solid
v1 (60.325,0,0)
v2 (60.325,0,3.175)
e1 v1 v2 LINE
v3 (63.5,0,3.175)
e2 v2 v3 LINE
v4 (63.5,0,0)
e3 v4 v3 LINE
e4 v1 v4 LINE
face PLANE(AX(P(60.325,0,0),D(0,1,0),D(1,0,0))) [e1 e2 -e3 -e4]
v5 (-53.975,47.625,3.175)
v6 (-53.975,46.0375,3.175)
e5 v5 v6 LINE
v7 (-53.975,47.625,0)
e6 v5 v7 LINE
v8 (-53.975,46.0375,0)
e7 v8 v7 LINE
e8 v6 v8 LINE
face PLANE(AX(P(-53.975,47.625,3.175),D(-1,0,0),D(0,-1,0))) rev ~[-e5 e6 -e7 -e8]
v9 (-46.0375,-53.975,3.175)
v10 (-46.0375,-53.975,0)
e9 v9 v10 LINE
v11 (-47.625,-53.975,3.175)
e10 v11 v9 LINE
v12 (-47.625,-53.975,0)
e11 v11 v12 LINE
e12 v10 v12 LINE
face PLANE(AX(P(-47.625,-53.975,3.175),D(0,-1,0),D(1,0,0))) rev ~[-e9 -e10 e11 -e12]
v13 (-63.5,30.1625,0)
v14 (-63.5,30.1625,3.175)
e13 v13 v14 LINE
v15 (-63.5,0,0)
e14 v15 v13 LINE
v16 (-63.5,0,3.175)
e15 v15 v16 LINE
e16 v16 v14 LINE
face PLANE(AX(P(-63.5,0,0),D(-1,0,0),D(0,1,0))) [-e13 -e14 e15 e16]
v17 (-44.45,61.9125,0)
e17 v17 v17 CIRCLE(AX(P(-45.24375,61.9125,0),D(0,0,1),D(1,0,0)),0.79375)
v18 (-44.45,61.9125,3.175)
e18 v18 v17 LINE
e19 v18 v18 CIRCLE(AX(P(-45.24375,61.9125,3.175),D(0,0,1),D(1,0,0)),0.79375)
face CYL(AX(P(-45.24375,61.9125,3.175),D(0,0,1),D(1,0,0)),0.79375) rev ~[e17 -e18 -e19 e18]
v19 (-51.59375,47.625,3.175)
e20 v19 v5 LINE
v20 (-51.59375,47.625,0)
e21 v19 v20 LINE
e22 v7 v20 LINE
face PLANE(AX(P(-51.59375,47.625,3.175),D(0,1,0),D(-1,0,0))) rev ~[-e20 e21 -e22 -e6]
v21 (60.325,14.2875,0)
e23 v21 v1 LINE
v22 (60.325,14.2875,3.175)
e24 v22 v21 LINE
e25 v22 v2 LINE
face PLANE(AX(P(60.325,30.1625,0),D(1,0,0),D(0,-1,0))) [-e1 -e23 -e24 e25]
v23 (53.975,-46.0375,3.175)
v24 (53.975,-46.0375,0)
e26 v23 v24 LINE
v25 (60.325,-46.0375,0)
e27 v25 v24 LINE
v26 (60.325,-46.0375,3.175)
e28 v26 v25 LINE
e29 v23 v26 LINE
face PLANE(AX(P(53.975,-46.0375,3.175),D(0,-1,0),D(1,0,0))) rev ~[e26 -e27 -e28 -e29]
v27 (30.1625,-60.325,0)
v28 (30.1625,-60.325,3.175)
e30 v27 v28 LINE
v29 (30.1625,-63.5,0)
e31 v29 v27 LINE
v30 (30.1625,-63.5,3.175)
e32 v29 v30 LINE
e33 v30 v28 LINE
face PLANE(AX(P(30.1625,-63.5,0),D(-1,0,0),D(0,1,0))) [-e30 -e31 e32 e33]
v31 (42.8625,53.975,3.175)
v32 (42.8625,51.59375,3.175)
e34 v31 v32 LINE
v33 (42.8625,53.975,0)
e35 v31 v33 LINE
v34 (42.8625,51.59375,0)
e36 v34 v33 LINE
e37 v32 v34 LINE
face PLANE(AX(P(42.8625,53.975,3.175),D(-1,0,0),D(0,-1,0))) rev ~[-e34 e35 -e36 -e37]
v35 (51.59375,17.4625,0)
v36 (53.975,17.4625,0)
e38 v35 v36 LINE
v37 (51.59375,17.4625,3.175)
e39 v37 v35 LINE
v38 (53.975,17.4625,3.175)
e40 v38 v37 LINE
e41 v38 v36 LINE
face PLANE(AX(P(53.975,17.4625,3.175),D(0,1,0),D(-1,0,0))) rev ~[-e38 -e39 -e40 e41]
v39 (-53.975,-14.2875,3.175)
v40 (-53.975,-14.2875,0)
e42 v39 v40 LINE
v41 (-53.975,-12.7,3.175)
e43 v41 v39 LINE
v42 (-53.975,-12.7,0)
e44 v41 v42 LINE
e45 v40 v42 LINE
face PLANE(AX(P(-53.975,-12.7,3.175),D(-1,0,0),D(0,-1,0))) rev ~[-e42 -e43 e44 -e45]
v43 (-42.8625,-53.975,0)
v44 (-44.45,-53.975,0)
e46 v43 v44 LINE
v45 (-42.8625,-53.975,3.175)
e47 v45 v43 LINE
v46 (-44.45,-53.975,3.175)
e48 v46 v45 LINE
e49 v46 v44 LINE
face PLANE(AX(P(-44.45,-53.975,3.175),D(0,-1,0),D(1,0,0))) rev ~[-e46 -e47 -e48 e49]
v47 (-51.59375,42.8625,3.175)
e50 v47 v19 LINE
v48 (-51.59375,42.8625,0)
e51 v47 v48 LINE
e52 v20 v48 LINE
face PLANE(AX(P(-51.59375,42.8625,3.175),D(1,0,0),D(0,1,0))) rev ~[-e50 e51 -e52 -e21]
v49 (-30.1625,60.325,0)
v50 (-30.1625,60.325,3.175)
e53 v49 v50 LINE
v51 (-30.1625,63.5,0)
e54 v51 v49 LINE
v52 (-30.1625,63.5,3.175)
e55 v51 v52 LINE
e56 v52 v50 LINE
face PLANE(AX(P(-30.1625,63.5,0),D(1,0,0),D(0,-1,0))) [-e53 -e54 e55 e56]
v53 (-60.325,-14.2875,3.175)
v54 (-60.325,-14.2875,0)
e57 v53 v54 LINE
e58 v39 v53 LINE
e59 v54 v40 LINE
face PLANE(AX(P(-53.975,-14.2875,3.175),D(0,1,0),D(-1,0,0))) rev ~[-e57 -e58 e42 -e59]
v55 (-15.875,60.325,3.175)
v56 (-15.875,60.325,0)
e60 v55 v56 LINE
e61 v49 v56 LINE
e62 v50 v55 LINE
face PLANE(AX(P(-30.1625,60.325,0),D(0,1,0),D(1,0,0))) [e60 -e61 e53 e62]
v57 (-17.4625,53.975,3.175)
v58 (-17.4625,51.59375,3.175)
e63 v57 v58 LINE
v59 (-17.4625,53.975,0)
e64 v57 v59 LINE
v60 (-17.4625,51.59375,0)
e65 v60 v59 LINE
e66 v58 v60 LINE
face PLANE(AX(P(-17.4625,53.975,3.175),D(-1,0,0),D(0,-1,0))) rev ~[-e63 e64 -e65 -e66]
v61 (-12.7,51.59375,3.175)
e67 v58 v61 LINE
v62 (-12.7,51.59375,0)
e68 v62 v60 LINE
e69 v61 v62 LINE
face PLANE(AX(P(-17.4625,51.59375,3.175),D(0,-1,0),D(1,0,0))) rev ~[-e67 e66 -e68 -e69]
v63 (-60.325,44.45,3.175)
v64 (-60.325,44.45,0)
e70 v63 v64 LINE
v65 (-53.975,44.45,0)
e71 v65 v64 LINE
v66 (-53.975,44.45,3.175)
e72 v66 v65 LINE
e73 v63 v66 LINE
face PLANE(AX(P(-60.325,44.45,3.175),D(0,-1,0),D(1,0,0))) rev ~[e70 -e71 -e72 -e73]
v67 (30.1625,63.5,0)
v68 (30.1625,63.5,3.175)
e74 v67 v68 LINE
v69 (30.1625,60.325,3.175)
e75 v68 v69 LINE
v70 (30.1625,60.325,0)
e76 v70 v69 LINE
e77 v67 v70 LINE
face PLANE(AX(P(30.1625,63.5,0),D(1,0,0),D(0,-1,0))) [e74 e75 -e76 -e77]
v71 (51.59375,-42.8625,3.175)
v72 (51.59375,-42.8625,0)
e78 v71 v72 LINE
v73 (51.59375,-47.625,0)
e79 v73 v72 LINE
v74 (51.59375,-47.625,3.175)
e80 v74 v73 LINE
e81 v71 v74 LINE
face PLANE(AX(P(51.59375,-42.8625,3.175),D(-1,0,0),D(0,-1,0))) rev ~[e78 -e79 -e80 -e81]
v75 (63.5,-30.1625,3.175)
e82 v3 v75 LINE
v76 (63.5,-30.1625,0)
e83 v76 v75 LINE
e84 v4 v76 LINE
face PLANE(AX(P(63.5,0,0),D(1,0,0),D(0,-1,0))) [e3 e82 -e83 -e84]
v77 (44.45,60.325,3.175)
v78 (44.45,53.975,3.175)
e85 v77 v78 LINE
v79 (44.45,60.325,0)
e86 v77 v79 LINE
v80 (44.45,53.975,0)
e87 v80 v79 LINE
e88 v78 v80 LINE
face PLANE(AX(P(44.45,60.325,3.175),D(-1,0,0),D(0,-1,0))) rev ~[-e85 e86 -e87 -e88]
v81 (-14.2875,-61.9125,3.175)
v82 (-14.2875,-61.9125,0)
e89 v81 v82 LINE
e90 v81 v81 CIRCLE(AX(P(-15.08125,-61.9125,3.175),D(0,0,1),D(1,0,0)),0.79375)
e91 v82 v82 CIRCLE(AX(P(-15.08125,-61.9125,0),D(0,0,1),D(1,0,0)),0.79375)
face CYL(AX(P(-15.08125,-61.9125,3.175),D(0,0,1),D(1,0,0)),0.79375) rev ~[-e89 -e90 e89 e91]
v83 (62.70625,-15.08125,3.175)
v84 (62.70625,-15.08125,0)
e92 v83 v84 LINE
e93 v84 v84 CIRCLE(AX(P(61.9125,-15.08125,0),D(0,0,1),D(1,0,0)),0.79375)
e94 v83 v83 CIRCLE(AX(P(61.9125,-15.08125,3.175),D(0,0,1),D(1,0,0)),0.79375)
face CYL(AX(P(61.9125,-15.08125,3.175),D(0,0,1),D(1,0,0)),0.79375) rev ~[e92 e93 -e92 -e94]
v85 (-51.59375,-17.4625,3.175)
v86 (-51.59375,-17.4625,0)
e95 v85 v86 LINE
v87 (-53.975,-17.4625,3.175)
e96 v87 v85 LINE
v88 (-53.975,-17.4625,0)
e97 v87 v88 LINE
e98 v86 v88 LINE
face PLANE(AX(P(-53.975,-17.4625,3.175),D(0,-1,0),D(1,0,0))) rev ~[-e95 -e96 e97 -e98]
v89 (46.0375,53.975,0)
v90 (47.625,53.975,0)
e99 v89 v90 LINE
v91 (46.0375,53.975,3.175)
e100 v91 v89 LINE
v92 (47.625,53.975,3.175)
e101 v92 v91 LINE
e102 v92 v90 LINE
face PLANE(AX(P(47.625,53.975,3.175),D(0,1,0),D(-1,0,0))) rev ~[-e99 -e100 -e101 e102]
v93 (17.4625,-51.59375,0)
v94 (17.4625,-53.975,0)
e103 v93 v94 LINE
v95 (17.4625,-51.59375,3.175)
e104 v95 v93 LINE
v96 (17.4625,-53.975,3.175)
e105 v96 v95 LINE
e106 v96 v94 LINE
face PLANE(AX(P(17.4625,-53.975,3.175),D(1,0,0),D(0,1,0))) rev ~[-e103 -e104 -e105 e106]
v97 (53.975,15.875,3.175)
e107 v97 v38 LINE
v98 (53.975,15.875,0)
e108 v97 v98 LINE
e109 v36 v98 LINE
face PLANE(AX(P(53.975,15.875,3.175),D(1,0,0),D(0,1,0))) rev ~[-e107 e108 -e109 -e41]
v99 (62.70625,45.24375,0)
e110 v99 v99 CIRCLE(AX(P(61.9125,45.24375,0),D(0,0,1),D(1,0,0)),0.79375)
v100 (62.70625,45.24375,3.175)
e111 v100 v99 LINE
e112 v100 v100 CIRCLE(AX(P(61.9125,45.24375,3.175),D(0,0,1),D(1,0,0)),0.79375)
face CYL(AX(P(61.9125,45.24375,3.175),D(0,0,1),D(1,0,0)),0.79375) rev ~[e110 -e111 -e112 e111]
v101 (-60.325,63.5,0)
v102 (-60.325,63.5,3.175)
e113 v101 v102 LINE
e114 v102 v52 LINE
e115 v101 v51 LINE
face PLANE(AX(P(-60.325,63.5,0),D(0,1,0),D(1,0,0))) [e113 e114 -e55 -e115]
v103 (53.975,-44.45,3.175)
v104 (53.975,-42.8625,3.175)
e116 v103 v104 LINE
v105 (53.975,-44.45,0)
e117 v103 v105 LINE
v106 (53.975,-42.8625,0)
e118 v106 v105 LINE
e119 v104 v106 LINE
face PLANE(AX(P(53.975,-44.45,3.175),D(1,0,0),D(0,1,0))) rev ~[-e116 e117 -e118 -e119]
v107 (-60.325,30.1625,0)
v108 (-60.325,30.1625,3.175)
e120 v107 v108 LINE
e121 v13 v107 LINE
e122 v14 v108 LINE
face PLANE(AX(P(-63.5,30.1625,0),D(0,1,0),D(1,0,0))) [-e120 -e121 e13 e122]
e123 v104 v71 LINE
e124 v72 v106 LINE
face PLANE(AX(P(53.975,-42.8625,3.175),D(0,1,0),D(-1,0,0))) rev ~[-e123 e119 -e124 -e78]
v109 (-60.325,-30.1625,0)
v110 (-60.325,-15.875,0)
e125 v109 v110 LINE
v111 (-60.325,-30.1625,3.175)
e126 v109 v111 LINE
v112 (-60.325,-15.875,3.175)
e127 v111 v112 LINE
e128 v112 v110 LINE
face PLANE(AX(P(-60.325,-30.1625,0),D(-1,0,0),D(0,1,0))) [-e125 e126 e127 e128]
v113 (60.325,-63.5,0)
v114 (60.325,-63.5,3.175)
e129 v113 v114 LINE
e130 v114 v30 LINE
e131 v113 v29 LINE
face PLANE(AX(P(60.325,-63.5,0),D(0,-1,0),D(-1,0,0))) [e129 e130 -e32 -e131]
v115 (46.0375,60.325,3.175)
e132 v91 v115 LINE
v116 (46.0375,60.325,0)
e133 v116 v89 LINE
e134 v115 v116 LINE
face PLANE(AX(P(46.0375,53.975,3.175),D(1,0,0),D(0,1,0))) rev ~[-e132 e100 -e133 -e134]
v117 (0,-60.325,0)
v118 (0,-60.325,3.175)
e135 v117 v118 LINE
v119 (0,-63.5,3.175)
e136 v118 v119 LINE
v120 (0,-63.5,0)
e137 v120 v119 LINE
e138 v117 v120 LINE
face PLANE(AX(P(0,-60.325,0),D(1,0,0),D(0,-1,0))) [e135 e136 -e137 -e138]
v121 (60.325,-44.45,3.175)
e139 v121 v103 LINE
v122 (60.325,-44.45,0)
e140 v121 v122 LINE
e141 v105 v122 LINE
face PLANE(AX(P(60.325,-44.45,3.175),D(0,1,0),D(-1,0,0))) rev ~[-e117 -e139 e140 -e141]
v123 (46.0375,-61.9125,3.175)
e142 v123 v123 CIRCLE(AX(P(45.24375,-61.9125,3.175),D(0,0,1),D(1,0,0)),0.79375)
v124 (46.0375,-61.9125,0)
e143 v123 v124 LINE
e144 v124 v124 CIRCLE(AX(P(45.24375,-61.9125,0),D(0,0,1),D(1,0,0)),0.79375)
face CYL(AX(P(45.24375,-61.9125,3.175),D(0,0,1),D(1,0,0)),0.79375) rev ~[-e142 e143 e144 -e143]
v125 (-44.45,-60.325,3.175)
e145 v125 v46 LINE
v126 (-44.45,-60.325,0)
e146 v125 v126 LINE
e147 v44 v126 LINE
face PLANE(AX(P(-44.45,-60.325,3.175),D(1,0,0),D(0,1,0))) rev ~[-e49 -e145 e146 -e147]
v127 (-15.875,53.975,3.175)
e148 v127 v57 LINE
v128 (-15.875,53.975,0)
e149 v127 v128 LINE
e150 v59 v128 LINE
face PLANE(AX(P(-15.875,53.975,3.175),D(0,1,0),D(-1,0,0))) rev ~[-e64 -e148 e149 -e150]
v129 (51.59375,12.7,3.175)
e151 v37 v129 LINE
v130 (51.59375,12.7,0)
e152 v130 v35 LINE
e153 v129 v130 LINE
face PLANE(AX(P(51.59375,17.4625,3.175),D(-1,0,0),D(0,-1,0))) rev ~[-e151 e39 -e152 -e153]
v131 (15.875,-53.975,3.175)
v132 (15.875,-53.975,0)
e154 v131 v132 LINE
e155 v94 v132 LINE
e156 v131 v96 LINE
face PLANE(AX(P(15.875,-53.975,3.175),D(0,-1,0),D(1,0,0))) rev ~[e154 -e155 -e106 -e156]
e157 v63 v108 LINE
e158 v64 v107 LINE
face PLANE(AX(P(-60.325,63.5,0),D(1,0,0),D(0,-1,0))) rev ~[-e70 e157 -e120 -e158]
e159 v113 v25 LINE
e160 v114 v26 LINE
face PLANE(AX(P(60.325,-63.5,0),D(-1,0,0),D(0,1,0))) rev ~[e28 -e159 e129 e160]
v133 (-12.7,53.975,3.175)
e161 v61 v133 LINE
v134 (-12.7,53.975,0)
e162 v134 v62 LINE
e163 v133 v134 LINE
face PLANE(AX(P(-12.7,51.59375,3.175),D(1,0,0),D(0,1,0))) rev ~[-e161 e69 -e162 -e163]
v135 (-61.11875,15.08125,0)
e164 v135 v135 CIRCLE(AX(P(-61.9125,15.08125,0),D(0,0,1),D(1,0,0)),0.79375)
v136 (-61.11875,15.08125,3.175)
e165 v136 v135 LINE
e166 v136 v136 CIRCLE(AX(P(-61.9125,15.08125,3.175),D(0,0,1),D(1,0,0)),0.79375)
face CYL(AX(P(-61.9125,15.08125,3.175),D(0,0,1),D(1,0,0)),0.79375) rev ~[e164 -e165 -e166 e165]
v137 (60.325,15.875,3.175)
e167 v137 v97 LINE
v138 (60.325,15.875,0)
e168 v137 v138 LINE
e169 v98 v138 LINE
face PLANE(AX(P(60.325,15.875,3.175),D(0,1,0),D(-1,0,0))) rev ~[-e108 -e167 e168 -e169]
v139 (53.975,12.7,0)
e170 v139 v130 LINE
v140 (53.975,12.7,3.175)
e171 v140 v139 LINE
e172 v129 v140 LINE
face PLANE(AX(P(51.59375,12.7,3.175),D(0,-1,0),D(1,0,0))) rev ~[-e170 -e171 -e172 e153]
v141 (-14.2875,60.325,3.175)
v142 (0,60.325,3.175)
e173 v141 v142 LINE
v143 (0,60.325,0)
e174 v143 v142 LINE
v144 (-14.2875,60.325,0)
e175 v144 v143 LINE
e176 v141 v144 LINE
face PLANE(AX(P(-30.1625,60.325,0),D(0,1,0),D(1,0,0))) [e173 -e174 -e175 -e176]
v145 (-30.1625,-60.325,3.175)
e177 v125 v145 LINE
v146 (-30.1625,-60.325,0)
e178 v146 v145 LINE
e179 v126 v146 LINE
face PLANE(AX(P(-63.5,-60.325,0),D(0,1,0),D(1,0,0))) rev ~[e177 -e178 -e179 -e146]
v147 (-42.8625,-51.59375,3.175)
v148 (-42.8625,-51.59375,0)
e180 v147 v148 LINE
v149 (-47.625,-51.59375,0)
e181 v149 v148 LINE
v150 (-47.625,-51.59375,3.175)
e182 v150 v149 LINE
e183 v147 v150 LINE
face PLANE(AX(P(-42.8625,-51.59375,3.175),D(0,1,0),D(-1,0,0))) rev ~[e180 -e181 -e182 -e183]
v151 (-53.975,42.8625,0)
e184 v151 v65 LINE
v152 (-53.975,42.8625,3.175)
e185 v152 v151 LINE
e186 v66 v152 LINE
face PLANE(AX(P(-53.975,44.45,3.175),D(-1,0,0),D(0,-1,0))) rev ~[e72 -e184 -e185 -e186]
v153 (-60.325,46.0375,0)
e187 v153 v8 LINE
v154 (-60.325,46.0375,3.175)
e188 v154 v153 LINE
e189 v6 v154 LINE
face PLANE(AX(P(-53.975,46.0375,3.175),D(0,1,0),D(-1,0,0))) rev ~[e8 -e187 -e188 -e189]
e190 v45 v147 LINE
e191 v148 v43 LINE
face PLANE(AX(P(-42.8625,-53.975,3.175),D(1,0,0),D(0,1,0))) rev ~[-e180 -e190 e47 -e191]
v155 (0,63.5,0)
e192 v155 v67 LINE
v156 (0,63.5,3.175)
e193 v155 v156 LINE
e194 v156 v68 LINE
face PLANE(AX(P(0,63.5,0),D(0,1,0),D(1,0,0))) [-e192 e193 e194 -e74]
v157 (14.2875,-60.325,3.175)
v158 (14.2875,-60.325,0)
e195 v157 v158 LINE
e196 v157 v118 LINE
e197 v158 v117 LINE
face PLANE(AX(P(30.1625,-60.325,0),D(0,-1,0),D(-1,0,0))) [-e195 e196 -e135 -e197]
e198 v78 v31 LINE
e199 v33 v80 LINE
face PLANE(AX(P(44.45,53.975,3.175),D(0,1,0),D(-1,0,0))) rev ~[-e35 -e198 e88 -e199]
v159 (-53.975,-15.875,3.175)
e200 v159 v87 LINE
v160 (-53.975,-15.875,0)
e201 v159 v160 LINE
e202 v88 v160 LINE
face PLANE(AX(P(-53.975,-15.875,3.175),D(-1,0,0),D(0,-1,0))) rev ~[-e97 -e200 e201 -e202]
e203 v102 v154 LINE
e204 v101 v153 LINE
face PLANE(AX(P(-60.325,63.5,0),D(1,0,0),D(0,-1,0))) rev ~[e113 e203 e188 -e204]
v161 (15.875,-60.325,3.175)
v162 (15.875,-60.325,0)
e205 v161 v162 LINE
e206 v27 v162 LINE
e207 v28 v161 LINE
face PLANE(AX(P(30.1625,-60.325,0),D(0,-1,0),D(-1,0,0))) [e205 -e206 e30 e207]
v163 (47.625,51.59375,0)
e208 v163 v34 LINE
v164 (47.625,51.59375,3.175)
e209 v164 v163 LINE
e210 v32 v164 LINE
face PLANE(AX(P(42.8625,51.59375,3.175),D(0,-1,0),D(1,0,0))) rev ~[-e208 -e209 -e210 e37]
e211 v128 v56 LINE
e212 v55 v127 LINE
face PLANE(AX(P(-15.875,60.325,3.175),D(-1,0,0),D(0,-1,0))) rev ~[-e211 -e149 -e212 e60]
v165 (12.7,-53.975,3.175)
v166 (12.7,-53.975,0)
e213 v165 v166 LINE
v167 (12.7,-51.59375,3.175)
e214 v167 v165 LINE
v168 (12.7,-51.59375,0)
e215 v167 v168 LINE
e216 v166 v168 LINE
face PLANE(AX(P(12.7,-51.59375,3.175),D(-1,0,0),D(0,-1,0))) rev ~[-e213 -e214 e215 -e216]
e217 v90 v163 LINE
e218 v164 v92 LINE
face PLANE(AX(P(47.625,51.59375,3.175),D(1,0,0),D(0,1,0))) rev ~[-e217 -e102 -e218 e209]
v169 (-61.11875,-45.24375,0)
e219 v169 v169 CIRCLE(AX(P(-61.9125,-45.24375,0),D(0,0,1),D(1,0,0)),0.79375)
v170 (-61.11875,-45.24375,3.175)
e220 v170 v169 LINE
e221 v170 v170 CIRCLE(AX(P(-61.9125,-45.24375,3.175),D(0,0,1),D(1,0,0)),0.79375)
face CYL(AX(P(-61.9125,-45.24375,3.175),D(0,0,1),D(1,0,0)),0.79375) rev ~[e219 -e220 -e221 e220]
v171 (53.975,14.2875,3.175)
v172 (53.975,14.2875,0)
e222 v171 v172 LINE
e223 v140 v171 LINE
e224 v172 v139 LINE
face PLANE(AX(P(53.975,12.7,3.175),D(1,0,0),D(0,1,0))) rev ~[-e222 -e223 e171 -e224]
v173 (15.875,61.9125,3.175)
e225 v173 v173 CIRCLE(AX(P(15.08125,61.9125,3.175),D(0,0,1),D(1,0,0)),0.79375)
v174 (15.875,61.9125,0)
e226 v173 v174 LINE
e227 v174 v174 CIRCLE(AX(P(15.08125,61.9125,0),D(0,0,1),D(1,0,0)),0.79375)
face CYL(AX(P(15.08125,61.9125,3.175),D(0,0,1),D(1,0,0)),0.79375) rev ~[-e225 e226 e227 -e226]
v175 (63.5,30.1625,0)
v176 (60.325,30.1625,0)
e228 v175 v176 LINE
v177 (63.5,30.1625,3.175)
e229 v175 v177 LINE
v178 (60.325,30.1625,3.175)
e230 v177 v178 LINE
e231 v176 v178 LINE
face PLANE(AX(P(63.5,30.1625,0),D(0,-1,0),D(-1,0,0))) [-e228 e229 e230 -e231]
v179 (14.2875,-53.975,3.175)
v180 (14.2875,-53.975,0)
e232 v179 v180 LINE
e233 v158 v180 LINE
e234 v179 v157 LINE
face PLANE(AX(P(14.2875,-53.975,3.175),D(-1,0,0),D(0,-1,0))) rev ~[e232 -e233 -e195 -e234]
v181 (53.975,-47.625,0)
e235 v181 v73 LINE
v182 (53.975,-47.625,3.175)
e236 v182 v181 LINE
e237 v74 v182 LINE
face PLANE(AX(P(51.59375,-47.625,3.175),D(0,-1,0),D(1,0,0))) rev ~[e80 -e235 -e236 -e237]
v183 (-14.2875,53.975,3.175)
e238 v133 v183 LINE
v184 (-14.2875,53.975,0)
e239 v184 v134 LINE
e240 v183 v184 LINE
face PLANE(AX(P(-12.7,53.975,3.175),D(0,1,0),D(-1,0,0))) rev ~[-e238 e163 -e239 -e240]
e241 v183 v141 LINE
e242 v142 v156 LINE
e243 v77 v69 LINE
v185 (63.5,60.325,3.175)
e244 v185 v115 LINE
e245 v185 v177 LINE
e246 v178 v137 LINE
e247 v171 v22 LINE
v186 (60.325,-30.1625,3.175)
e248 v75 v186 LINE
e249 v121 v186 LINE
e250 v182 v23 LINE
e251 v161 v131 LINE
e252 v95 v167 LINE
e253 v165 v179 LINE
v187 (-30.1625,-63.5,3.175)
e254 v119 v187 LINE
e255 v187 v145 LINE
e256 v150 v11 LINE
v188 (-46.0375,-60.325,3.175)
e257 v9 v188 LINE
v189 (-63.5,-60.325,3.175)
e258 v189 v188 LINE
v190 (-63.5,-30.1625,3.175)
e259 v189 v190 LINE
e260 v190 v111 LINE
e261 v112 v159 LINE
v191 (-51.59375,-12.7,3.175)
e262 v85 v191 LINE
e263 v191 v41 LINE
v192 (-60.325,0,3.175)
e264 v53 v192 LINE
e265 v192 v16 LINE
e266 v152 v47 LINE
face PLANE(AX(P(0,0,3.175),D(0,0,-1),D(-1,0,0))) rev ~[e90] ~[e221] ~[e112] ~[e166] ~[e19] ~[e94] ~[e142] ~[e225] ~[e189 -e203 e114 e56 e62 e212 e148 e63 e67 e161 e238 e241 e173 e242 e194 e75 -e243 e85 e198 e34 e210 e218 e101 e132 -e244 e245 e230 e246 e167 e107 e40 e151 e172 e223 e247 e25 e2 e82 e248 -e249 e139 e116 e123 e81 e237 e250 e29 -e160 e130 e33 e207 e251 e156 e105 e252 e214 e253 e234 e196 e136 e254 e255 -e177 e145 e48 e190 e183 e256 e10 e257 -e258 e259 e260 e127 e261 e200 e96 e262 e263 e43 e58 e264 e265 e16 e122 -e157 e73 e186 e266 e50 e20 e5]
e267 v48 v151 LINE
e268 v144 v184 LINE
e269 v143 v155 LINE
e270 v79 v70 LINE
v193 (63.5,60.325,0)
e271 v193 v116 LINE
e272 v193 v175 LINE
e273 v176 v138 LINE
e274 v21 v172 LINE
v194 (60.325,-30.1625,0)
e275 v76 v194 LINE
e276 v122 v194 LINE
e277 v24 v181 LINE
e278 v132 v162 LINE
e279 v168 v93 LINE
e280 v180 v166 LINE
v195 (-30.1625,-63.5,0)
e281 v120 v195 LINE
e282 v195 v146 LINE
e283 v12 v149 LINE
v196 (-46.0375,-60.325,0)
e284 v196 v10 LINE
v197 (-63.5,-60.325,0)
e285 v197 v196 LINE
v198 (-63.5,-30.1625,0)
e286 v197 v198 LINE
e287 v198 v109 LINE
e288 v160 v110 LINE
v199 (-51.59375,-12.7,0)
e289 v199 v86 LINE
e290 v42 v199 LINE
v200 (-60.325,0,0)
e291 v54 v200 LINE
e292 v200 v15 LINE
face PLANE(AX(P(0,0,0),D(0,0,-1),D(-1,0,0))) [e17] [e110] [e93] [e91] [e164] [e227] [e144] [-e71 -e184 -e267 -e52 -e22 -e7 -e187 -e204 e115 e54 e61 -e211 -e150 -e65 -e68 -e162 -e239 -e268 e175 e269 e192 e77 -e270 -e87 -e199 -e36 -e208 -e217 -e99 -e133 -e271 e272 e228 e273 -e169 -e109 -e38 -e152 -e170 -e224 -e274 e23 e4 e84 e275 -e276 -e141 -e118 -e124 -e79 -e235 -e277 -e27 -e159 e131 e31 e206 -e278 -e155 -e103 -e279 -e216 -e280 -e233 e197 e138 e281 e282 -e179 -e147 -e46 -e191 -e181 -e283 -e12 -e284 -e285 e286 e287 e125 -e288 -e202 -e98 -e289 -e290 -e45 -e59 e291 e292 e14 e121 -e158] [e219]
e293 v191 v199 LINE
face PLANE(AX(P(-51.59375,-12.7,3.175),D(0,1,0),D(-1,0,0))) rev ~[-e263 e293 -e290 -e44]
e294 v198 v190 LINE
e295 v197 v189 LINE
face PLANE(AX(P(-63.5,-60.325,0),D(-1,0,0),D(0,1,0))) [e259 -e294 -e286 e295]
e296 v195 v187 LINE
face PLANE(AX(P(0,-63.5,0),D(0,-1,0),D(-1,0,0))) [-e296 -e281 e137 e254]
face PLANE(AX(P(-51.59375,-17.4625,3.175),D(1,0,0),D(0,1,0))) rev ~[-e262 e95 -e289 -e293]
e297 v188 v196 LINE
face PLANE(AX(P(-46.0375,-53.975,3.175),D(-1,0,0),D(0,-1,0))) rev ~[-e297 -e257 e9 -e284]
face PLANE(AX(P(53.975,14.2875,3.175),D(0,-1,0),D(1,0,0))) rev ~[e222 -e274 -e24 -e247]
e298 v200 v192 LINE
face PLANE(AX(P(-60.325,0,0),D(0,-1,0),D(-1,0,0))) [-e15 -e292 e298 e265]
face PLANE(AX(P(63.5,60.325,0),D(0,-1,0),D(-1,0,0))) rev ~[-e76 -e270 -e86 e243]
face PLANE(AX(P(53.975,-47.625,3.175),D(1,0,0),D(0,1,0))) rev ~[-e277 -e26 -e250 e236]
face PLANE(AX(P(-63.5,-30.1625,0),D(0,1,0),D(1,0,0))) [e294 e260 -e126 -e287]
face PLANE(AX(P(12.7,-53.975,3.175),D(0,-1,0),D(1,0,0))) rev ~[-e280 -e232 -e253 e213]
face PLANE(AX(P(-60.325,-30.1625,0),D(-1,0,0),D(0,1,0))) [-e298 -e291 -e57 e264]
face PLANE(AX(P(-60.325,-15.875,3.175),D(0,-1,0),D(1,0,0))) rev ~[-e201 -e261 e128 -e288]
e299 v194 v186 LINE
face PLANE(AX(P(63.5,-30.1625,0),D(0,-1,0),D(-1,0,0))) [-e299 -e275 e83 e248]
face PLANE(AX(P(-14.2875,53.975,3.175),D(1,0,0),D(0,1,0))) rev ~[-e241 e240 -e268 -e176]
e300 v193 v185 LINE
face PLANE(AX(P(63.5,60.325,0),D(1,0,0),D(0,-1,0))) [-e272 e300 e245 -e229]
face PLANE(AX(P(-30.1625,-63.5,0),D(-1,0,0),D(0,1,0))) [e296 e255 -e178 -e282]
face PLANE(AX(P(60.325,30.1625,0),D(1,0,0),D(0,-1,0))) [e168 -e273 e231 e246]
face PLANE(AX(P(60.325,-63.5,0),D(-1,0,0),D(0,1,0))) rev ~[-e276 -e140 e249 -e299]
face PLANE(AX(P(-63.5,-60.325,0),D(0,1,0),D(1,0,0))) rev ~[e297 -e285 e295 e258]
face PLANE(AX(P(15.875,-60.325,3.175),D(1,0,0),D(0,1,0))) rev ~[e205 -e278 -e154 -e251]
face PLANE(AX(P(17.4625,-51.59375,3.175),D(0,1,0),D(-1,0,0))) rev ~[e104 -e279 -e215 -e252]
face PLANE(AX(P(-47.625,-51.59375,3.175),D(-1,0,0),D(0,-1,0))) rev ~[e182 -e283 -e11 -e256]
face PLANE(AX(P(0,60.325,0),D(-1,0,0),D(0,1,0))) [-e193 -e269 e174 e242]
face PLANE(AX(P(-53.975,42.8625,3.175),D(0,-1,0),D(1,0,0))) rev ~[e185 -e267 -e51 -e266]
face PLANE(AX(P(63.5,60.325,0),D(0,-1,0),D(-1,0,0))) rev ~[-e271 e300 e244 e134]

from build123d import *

# Parameters (mm, degrees)
BOSS_EXTRUDE1_DEPTH = 3.175
SKETCH2_R           = 0.79375
CUT_EXTRUDE1_DEPTH  = 90.858670283


with BuildPart() as part:
    # Sketch1 → Boss-Extrude1 (new body)
    with BuildSketch(Plane.XY):
        Polygon((-60.325, 60.325), (-60.325, 63.5), (-30.1625, 63.5), (-30.1625, 60.325), (0, 60.325), (0, 63.5), (30.1625, 63.5), (30.1625, 60.325), (60.325, 60.325), (63.5, 60.325), (63.5, 30.1625), (60.325, 30.1625), (60.325, 0), (63.5, 0), (63.5, -30.1625), (60.325, -30.1625), (60.325, -60.325), (60.325, -63.5), (30.1625, -63.5), (30.1625, -60.325), (0, -60.325), (0, -63.5), (-30.1625, -63.5), (-30.1625, -60.325), (-60.325, -60.325), (-63.5, -60.325), (-63.5, -30.1625), (-60.325, -30.1625), (-60.325, 0), (-63.5, 0), (-63.5, 30.1625), (-60.325, 30.1625), align=None)
    extrude(amount=BOSS_EXTRUDE1_DEPTH)

    # Sketch2 → Cut-Extrude1 (cut, through all)
    with BuildSketch(Plane.XY.offset(3.175)):
        Polygon((-14.2875, 53.975), (-14.2875, 60.325), (-15.875, 60.325), (-15.875, 53.975), (-17.4625, 53.975), (-17.4625, 51.59375), (-12.7, 51.59375), (-12.7, 53.975), align=None)
        Polygon((-53.975, 46.0375), (-60.325, 46.0375), (-60.325, 44.45), (-53.975, 44.45), (-53.975, 42.8625), (-51.59375, 42.8625), (-51.59375, 47.625), (-53.975, 47.625), align=None)
        Polygon((46.0375, 60.325), (44.45, 60.325), (44.45, 53.975), (42.8625, 53.975), (42.8625, 51.59375), (47.625, 51.59375), (47.625, 53.975), (46.0375, 53.975), align=None)
        Polygon((60.325, 14.2875), (60.325, 15.875), (53.975, 15.875), (53.975, 17.4625), (51.59375, 17.4625), (51.59375, 12.7), (53.975, 12.7), (53.975, 14.2875), align=None)
        Polygon((-53.975, -14.2875), (-60.325, -14.2875), (-60.325, -15.875), (-53.975, -15.875), (-53.975, -17.4625), (-51.59375, -17.4625), (-51.59375, -12.7), (-53.975, -12.7), align=None)
        Polygon((-46.0375, -53.975), (-46.0375, -60.325), (-44.45, -60.325), (-44.45, -53.975), (-42.8625, -53.975), (-42.8625, -51.59375), (-47.625, -51.59375), (-47.625, -53.975), align=None)
        Polygon((60.325, -46.0375), (60.325, -44.45), (53.975, -44.45), (53.975, -42.8625), (51.59375, -42.8625), (51.59375, -47.625), (53.975, -47.625), (53.975, -46.0375), align=None)
        Polygon((14.2875, -60.325), (15.875, -60.325), (15.875, -53.975), (17.4625, -53.975), (17.4625, -51.59375), (12.7, -51.59375), (12.7, -53.975), (14.2875, -53.975), align=None)
        with Locations((-45.24375, 61.9125)):
            Circle(SKETCH2_R)
        with Locations((15.08125, 61.9125)):
            Circle(SKETCH2_R)
        with Locations((61.9125, 45.24375)):
            Circle(SKETCH2_R)
        with Locations((61.9125, -15.08125)):
            Circle(SKETCH2_R)
        with Locations((45.24375, -61.9125)):
            Circle(SKETCH2_R)
        with Locations((-15.08125, -61.9125)):
            Circle(SKETCH2_R)
        with Locations((-61.9125, -45.24375)):
            Circle(SKETCH2_R)
        with Locations((-61.9125, 15.08125)):
            Circle(SKETCH2_R)
    extrude(amount=-CUT_EXTRUDE1_DEPTH, mode=Mode.SUBTRACT)


solid = part.part
